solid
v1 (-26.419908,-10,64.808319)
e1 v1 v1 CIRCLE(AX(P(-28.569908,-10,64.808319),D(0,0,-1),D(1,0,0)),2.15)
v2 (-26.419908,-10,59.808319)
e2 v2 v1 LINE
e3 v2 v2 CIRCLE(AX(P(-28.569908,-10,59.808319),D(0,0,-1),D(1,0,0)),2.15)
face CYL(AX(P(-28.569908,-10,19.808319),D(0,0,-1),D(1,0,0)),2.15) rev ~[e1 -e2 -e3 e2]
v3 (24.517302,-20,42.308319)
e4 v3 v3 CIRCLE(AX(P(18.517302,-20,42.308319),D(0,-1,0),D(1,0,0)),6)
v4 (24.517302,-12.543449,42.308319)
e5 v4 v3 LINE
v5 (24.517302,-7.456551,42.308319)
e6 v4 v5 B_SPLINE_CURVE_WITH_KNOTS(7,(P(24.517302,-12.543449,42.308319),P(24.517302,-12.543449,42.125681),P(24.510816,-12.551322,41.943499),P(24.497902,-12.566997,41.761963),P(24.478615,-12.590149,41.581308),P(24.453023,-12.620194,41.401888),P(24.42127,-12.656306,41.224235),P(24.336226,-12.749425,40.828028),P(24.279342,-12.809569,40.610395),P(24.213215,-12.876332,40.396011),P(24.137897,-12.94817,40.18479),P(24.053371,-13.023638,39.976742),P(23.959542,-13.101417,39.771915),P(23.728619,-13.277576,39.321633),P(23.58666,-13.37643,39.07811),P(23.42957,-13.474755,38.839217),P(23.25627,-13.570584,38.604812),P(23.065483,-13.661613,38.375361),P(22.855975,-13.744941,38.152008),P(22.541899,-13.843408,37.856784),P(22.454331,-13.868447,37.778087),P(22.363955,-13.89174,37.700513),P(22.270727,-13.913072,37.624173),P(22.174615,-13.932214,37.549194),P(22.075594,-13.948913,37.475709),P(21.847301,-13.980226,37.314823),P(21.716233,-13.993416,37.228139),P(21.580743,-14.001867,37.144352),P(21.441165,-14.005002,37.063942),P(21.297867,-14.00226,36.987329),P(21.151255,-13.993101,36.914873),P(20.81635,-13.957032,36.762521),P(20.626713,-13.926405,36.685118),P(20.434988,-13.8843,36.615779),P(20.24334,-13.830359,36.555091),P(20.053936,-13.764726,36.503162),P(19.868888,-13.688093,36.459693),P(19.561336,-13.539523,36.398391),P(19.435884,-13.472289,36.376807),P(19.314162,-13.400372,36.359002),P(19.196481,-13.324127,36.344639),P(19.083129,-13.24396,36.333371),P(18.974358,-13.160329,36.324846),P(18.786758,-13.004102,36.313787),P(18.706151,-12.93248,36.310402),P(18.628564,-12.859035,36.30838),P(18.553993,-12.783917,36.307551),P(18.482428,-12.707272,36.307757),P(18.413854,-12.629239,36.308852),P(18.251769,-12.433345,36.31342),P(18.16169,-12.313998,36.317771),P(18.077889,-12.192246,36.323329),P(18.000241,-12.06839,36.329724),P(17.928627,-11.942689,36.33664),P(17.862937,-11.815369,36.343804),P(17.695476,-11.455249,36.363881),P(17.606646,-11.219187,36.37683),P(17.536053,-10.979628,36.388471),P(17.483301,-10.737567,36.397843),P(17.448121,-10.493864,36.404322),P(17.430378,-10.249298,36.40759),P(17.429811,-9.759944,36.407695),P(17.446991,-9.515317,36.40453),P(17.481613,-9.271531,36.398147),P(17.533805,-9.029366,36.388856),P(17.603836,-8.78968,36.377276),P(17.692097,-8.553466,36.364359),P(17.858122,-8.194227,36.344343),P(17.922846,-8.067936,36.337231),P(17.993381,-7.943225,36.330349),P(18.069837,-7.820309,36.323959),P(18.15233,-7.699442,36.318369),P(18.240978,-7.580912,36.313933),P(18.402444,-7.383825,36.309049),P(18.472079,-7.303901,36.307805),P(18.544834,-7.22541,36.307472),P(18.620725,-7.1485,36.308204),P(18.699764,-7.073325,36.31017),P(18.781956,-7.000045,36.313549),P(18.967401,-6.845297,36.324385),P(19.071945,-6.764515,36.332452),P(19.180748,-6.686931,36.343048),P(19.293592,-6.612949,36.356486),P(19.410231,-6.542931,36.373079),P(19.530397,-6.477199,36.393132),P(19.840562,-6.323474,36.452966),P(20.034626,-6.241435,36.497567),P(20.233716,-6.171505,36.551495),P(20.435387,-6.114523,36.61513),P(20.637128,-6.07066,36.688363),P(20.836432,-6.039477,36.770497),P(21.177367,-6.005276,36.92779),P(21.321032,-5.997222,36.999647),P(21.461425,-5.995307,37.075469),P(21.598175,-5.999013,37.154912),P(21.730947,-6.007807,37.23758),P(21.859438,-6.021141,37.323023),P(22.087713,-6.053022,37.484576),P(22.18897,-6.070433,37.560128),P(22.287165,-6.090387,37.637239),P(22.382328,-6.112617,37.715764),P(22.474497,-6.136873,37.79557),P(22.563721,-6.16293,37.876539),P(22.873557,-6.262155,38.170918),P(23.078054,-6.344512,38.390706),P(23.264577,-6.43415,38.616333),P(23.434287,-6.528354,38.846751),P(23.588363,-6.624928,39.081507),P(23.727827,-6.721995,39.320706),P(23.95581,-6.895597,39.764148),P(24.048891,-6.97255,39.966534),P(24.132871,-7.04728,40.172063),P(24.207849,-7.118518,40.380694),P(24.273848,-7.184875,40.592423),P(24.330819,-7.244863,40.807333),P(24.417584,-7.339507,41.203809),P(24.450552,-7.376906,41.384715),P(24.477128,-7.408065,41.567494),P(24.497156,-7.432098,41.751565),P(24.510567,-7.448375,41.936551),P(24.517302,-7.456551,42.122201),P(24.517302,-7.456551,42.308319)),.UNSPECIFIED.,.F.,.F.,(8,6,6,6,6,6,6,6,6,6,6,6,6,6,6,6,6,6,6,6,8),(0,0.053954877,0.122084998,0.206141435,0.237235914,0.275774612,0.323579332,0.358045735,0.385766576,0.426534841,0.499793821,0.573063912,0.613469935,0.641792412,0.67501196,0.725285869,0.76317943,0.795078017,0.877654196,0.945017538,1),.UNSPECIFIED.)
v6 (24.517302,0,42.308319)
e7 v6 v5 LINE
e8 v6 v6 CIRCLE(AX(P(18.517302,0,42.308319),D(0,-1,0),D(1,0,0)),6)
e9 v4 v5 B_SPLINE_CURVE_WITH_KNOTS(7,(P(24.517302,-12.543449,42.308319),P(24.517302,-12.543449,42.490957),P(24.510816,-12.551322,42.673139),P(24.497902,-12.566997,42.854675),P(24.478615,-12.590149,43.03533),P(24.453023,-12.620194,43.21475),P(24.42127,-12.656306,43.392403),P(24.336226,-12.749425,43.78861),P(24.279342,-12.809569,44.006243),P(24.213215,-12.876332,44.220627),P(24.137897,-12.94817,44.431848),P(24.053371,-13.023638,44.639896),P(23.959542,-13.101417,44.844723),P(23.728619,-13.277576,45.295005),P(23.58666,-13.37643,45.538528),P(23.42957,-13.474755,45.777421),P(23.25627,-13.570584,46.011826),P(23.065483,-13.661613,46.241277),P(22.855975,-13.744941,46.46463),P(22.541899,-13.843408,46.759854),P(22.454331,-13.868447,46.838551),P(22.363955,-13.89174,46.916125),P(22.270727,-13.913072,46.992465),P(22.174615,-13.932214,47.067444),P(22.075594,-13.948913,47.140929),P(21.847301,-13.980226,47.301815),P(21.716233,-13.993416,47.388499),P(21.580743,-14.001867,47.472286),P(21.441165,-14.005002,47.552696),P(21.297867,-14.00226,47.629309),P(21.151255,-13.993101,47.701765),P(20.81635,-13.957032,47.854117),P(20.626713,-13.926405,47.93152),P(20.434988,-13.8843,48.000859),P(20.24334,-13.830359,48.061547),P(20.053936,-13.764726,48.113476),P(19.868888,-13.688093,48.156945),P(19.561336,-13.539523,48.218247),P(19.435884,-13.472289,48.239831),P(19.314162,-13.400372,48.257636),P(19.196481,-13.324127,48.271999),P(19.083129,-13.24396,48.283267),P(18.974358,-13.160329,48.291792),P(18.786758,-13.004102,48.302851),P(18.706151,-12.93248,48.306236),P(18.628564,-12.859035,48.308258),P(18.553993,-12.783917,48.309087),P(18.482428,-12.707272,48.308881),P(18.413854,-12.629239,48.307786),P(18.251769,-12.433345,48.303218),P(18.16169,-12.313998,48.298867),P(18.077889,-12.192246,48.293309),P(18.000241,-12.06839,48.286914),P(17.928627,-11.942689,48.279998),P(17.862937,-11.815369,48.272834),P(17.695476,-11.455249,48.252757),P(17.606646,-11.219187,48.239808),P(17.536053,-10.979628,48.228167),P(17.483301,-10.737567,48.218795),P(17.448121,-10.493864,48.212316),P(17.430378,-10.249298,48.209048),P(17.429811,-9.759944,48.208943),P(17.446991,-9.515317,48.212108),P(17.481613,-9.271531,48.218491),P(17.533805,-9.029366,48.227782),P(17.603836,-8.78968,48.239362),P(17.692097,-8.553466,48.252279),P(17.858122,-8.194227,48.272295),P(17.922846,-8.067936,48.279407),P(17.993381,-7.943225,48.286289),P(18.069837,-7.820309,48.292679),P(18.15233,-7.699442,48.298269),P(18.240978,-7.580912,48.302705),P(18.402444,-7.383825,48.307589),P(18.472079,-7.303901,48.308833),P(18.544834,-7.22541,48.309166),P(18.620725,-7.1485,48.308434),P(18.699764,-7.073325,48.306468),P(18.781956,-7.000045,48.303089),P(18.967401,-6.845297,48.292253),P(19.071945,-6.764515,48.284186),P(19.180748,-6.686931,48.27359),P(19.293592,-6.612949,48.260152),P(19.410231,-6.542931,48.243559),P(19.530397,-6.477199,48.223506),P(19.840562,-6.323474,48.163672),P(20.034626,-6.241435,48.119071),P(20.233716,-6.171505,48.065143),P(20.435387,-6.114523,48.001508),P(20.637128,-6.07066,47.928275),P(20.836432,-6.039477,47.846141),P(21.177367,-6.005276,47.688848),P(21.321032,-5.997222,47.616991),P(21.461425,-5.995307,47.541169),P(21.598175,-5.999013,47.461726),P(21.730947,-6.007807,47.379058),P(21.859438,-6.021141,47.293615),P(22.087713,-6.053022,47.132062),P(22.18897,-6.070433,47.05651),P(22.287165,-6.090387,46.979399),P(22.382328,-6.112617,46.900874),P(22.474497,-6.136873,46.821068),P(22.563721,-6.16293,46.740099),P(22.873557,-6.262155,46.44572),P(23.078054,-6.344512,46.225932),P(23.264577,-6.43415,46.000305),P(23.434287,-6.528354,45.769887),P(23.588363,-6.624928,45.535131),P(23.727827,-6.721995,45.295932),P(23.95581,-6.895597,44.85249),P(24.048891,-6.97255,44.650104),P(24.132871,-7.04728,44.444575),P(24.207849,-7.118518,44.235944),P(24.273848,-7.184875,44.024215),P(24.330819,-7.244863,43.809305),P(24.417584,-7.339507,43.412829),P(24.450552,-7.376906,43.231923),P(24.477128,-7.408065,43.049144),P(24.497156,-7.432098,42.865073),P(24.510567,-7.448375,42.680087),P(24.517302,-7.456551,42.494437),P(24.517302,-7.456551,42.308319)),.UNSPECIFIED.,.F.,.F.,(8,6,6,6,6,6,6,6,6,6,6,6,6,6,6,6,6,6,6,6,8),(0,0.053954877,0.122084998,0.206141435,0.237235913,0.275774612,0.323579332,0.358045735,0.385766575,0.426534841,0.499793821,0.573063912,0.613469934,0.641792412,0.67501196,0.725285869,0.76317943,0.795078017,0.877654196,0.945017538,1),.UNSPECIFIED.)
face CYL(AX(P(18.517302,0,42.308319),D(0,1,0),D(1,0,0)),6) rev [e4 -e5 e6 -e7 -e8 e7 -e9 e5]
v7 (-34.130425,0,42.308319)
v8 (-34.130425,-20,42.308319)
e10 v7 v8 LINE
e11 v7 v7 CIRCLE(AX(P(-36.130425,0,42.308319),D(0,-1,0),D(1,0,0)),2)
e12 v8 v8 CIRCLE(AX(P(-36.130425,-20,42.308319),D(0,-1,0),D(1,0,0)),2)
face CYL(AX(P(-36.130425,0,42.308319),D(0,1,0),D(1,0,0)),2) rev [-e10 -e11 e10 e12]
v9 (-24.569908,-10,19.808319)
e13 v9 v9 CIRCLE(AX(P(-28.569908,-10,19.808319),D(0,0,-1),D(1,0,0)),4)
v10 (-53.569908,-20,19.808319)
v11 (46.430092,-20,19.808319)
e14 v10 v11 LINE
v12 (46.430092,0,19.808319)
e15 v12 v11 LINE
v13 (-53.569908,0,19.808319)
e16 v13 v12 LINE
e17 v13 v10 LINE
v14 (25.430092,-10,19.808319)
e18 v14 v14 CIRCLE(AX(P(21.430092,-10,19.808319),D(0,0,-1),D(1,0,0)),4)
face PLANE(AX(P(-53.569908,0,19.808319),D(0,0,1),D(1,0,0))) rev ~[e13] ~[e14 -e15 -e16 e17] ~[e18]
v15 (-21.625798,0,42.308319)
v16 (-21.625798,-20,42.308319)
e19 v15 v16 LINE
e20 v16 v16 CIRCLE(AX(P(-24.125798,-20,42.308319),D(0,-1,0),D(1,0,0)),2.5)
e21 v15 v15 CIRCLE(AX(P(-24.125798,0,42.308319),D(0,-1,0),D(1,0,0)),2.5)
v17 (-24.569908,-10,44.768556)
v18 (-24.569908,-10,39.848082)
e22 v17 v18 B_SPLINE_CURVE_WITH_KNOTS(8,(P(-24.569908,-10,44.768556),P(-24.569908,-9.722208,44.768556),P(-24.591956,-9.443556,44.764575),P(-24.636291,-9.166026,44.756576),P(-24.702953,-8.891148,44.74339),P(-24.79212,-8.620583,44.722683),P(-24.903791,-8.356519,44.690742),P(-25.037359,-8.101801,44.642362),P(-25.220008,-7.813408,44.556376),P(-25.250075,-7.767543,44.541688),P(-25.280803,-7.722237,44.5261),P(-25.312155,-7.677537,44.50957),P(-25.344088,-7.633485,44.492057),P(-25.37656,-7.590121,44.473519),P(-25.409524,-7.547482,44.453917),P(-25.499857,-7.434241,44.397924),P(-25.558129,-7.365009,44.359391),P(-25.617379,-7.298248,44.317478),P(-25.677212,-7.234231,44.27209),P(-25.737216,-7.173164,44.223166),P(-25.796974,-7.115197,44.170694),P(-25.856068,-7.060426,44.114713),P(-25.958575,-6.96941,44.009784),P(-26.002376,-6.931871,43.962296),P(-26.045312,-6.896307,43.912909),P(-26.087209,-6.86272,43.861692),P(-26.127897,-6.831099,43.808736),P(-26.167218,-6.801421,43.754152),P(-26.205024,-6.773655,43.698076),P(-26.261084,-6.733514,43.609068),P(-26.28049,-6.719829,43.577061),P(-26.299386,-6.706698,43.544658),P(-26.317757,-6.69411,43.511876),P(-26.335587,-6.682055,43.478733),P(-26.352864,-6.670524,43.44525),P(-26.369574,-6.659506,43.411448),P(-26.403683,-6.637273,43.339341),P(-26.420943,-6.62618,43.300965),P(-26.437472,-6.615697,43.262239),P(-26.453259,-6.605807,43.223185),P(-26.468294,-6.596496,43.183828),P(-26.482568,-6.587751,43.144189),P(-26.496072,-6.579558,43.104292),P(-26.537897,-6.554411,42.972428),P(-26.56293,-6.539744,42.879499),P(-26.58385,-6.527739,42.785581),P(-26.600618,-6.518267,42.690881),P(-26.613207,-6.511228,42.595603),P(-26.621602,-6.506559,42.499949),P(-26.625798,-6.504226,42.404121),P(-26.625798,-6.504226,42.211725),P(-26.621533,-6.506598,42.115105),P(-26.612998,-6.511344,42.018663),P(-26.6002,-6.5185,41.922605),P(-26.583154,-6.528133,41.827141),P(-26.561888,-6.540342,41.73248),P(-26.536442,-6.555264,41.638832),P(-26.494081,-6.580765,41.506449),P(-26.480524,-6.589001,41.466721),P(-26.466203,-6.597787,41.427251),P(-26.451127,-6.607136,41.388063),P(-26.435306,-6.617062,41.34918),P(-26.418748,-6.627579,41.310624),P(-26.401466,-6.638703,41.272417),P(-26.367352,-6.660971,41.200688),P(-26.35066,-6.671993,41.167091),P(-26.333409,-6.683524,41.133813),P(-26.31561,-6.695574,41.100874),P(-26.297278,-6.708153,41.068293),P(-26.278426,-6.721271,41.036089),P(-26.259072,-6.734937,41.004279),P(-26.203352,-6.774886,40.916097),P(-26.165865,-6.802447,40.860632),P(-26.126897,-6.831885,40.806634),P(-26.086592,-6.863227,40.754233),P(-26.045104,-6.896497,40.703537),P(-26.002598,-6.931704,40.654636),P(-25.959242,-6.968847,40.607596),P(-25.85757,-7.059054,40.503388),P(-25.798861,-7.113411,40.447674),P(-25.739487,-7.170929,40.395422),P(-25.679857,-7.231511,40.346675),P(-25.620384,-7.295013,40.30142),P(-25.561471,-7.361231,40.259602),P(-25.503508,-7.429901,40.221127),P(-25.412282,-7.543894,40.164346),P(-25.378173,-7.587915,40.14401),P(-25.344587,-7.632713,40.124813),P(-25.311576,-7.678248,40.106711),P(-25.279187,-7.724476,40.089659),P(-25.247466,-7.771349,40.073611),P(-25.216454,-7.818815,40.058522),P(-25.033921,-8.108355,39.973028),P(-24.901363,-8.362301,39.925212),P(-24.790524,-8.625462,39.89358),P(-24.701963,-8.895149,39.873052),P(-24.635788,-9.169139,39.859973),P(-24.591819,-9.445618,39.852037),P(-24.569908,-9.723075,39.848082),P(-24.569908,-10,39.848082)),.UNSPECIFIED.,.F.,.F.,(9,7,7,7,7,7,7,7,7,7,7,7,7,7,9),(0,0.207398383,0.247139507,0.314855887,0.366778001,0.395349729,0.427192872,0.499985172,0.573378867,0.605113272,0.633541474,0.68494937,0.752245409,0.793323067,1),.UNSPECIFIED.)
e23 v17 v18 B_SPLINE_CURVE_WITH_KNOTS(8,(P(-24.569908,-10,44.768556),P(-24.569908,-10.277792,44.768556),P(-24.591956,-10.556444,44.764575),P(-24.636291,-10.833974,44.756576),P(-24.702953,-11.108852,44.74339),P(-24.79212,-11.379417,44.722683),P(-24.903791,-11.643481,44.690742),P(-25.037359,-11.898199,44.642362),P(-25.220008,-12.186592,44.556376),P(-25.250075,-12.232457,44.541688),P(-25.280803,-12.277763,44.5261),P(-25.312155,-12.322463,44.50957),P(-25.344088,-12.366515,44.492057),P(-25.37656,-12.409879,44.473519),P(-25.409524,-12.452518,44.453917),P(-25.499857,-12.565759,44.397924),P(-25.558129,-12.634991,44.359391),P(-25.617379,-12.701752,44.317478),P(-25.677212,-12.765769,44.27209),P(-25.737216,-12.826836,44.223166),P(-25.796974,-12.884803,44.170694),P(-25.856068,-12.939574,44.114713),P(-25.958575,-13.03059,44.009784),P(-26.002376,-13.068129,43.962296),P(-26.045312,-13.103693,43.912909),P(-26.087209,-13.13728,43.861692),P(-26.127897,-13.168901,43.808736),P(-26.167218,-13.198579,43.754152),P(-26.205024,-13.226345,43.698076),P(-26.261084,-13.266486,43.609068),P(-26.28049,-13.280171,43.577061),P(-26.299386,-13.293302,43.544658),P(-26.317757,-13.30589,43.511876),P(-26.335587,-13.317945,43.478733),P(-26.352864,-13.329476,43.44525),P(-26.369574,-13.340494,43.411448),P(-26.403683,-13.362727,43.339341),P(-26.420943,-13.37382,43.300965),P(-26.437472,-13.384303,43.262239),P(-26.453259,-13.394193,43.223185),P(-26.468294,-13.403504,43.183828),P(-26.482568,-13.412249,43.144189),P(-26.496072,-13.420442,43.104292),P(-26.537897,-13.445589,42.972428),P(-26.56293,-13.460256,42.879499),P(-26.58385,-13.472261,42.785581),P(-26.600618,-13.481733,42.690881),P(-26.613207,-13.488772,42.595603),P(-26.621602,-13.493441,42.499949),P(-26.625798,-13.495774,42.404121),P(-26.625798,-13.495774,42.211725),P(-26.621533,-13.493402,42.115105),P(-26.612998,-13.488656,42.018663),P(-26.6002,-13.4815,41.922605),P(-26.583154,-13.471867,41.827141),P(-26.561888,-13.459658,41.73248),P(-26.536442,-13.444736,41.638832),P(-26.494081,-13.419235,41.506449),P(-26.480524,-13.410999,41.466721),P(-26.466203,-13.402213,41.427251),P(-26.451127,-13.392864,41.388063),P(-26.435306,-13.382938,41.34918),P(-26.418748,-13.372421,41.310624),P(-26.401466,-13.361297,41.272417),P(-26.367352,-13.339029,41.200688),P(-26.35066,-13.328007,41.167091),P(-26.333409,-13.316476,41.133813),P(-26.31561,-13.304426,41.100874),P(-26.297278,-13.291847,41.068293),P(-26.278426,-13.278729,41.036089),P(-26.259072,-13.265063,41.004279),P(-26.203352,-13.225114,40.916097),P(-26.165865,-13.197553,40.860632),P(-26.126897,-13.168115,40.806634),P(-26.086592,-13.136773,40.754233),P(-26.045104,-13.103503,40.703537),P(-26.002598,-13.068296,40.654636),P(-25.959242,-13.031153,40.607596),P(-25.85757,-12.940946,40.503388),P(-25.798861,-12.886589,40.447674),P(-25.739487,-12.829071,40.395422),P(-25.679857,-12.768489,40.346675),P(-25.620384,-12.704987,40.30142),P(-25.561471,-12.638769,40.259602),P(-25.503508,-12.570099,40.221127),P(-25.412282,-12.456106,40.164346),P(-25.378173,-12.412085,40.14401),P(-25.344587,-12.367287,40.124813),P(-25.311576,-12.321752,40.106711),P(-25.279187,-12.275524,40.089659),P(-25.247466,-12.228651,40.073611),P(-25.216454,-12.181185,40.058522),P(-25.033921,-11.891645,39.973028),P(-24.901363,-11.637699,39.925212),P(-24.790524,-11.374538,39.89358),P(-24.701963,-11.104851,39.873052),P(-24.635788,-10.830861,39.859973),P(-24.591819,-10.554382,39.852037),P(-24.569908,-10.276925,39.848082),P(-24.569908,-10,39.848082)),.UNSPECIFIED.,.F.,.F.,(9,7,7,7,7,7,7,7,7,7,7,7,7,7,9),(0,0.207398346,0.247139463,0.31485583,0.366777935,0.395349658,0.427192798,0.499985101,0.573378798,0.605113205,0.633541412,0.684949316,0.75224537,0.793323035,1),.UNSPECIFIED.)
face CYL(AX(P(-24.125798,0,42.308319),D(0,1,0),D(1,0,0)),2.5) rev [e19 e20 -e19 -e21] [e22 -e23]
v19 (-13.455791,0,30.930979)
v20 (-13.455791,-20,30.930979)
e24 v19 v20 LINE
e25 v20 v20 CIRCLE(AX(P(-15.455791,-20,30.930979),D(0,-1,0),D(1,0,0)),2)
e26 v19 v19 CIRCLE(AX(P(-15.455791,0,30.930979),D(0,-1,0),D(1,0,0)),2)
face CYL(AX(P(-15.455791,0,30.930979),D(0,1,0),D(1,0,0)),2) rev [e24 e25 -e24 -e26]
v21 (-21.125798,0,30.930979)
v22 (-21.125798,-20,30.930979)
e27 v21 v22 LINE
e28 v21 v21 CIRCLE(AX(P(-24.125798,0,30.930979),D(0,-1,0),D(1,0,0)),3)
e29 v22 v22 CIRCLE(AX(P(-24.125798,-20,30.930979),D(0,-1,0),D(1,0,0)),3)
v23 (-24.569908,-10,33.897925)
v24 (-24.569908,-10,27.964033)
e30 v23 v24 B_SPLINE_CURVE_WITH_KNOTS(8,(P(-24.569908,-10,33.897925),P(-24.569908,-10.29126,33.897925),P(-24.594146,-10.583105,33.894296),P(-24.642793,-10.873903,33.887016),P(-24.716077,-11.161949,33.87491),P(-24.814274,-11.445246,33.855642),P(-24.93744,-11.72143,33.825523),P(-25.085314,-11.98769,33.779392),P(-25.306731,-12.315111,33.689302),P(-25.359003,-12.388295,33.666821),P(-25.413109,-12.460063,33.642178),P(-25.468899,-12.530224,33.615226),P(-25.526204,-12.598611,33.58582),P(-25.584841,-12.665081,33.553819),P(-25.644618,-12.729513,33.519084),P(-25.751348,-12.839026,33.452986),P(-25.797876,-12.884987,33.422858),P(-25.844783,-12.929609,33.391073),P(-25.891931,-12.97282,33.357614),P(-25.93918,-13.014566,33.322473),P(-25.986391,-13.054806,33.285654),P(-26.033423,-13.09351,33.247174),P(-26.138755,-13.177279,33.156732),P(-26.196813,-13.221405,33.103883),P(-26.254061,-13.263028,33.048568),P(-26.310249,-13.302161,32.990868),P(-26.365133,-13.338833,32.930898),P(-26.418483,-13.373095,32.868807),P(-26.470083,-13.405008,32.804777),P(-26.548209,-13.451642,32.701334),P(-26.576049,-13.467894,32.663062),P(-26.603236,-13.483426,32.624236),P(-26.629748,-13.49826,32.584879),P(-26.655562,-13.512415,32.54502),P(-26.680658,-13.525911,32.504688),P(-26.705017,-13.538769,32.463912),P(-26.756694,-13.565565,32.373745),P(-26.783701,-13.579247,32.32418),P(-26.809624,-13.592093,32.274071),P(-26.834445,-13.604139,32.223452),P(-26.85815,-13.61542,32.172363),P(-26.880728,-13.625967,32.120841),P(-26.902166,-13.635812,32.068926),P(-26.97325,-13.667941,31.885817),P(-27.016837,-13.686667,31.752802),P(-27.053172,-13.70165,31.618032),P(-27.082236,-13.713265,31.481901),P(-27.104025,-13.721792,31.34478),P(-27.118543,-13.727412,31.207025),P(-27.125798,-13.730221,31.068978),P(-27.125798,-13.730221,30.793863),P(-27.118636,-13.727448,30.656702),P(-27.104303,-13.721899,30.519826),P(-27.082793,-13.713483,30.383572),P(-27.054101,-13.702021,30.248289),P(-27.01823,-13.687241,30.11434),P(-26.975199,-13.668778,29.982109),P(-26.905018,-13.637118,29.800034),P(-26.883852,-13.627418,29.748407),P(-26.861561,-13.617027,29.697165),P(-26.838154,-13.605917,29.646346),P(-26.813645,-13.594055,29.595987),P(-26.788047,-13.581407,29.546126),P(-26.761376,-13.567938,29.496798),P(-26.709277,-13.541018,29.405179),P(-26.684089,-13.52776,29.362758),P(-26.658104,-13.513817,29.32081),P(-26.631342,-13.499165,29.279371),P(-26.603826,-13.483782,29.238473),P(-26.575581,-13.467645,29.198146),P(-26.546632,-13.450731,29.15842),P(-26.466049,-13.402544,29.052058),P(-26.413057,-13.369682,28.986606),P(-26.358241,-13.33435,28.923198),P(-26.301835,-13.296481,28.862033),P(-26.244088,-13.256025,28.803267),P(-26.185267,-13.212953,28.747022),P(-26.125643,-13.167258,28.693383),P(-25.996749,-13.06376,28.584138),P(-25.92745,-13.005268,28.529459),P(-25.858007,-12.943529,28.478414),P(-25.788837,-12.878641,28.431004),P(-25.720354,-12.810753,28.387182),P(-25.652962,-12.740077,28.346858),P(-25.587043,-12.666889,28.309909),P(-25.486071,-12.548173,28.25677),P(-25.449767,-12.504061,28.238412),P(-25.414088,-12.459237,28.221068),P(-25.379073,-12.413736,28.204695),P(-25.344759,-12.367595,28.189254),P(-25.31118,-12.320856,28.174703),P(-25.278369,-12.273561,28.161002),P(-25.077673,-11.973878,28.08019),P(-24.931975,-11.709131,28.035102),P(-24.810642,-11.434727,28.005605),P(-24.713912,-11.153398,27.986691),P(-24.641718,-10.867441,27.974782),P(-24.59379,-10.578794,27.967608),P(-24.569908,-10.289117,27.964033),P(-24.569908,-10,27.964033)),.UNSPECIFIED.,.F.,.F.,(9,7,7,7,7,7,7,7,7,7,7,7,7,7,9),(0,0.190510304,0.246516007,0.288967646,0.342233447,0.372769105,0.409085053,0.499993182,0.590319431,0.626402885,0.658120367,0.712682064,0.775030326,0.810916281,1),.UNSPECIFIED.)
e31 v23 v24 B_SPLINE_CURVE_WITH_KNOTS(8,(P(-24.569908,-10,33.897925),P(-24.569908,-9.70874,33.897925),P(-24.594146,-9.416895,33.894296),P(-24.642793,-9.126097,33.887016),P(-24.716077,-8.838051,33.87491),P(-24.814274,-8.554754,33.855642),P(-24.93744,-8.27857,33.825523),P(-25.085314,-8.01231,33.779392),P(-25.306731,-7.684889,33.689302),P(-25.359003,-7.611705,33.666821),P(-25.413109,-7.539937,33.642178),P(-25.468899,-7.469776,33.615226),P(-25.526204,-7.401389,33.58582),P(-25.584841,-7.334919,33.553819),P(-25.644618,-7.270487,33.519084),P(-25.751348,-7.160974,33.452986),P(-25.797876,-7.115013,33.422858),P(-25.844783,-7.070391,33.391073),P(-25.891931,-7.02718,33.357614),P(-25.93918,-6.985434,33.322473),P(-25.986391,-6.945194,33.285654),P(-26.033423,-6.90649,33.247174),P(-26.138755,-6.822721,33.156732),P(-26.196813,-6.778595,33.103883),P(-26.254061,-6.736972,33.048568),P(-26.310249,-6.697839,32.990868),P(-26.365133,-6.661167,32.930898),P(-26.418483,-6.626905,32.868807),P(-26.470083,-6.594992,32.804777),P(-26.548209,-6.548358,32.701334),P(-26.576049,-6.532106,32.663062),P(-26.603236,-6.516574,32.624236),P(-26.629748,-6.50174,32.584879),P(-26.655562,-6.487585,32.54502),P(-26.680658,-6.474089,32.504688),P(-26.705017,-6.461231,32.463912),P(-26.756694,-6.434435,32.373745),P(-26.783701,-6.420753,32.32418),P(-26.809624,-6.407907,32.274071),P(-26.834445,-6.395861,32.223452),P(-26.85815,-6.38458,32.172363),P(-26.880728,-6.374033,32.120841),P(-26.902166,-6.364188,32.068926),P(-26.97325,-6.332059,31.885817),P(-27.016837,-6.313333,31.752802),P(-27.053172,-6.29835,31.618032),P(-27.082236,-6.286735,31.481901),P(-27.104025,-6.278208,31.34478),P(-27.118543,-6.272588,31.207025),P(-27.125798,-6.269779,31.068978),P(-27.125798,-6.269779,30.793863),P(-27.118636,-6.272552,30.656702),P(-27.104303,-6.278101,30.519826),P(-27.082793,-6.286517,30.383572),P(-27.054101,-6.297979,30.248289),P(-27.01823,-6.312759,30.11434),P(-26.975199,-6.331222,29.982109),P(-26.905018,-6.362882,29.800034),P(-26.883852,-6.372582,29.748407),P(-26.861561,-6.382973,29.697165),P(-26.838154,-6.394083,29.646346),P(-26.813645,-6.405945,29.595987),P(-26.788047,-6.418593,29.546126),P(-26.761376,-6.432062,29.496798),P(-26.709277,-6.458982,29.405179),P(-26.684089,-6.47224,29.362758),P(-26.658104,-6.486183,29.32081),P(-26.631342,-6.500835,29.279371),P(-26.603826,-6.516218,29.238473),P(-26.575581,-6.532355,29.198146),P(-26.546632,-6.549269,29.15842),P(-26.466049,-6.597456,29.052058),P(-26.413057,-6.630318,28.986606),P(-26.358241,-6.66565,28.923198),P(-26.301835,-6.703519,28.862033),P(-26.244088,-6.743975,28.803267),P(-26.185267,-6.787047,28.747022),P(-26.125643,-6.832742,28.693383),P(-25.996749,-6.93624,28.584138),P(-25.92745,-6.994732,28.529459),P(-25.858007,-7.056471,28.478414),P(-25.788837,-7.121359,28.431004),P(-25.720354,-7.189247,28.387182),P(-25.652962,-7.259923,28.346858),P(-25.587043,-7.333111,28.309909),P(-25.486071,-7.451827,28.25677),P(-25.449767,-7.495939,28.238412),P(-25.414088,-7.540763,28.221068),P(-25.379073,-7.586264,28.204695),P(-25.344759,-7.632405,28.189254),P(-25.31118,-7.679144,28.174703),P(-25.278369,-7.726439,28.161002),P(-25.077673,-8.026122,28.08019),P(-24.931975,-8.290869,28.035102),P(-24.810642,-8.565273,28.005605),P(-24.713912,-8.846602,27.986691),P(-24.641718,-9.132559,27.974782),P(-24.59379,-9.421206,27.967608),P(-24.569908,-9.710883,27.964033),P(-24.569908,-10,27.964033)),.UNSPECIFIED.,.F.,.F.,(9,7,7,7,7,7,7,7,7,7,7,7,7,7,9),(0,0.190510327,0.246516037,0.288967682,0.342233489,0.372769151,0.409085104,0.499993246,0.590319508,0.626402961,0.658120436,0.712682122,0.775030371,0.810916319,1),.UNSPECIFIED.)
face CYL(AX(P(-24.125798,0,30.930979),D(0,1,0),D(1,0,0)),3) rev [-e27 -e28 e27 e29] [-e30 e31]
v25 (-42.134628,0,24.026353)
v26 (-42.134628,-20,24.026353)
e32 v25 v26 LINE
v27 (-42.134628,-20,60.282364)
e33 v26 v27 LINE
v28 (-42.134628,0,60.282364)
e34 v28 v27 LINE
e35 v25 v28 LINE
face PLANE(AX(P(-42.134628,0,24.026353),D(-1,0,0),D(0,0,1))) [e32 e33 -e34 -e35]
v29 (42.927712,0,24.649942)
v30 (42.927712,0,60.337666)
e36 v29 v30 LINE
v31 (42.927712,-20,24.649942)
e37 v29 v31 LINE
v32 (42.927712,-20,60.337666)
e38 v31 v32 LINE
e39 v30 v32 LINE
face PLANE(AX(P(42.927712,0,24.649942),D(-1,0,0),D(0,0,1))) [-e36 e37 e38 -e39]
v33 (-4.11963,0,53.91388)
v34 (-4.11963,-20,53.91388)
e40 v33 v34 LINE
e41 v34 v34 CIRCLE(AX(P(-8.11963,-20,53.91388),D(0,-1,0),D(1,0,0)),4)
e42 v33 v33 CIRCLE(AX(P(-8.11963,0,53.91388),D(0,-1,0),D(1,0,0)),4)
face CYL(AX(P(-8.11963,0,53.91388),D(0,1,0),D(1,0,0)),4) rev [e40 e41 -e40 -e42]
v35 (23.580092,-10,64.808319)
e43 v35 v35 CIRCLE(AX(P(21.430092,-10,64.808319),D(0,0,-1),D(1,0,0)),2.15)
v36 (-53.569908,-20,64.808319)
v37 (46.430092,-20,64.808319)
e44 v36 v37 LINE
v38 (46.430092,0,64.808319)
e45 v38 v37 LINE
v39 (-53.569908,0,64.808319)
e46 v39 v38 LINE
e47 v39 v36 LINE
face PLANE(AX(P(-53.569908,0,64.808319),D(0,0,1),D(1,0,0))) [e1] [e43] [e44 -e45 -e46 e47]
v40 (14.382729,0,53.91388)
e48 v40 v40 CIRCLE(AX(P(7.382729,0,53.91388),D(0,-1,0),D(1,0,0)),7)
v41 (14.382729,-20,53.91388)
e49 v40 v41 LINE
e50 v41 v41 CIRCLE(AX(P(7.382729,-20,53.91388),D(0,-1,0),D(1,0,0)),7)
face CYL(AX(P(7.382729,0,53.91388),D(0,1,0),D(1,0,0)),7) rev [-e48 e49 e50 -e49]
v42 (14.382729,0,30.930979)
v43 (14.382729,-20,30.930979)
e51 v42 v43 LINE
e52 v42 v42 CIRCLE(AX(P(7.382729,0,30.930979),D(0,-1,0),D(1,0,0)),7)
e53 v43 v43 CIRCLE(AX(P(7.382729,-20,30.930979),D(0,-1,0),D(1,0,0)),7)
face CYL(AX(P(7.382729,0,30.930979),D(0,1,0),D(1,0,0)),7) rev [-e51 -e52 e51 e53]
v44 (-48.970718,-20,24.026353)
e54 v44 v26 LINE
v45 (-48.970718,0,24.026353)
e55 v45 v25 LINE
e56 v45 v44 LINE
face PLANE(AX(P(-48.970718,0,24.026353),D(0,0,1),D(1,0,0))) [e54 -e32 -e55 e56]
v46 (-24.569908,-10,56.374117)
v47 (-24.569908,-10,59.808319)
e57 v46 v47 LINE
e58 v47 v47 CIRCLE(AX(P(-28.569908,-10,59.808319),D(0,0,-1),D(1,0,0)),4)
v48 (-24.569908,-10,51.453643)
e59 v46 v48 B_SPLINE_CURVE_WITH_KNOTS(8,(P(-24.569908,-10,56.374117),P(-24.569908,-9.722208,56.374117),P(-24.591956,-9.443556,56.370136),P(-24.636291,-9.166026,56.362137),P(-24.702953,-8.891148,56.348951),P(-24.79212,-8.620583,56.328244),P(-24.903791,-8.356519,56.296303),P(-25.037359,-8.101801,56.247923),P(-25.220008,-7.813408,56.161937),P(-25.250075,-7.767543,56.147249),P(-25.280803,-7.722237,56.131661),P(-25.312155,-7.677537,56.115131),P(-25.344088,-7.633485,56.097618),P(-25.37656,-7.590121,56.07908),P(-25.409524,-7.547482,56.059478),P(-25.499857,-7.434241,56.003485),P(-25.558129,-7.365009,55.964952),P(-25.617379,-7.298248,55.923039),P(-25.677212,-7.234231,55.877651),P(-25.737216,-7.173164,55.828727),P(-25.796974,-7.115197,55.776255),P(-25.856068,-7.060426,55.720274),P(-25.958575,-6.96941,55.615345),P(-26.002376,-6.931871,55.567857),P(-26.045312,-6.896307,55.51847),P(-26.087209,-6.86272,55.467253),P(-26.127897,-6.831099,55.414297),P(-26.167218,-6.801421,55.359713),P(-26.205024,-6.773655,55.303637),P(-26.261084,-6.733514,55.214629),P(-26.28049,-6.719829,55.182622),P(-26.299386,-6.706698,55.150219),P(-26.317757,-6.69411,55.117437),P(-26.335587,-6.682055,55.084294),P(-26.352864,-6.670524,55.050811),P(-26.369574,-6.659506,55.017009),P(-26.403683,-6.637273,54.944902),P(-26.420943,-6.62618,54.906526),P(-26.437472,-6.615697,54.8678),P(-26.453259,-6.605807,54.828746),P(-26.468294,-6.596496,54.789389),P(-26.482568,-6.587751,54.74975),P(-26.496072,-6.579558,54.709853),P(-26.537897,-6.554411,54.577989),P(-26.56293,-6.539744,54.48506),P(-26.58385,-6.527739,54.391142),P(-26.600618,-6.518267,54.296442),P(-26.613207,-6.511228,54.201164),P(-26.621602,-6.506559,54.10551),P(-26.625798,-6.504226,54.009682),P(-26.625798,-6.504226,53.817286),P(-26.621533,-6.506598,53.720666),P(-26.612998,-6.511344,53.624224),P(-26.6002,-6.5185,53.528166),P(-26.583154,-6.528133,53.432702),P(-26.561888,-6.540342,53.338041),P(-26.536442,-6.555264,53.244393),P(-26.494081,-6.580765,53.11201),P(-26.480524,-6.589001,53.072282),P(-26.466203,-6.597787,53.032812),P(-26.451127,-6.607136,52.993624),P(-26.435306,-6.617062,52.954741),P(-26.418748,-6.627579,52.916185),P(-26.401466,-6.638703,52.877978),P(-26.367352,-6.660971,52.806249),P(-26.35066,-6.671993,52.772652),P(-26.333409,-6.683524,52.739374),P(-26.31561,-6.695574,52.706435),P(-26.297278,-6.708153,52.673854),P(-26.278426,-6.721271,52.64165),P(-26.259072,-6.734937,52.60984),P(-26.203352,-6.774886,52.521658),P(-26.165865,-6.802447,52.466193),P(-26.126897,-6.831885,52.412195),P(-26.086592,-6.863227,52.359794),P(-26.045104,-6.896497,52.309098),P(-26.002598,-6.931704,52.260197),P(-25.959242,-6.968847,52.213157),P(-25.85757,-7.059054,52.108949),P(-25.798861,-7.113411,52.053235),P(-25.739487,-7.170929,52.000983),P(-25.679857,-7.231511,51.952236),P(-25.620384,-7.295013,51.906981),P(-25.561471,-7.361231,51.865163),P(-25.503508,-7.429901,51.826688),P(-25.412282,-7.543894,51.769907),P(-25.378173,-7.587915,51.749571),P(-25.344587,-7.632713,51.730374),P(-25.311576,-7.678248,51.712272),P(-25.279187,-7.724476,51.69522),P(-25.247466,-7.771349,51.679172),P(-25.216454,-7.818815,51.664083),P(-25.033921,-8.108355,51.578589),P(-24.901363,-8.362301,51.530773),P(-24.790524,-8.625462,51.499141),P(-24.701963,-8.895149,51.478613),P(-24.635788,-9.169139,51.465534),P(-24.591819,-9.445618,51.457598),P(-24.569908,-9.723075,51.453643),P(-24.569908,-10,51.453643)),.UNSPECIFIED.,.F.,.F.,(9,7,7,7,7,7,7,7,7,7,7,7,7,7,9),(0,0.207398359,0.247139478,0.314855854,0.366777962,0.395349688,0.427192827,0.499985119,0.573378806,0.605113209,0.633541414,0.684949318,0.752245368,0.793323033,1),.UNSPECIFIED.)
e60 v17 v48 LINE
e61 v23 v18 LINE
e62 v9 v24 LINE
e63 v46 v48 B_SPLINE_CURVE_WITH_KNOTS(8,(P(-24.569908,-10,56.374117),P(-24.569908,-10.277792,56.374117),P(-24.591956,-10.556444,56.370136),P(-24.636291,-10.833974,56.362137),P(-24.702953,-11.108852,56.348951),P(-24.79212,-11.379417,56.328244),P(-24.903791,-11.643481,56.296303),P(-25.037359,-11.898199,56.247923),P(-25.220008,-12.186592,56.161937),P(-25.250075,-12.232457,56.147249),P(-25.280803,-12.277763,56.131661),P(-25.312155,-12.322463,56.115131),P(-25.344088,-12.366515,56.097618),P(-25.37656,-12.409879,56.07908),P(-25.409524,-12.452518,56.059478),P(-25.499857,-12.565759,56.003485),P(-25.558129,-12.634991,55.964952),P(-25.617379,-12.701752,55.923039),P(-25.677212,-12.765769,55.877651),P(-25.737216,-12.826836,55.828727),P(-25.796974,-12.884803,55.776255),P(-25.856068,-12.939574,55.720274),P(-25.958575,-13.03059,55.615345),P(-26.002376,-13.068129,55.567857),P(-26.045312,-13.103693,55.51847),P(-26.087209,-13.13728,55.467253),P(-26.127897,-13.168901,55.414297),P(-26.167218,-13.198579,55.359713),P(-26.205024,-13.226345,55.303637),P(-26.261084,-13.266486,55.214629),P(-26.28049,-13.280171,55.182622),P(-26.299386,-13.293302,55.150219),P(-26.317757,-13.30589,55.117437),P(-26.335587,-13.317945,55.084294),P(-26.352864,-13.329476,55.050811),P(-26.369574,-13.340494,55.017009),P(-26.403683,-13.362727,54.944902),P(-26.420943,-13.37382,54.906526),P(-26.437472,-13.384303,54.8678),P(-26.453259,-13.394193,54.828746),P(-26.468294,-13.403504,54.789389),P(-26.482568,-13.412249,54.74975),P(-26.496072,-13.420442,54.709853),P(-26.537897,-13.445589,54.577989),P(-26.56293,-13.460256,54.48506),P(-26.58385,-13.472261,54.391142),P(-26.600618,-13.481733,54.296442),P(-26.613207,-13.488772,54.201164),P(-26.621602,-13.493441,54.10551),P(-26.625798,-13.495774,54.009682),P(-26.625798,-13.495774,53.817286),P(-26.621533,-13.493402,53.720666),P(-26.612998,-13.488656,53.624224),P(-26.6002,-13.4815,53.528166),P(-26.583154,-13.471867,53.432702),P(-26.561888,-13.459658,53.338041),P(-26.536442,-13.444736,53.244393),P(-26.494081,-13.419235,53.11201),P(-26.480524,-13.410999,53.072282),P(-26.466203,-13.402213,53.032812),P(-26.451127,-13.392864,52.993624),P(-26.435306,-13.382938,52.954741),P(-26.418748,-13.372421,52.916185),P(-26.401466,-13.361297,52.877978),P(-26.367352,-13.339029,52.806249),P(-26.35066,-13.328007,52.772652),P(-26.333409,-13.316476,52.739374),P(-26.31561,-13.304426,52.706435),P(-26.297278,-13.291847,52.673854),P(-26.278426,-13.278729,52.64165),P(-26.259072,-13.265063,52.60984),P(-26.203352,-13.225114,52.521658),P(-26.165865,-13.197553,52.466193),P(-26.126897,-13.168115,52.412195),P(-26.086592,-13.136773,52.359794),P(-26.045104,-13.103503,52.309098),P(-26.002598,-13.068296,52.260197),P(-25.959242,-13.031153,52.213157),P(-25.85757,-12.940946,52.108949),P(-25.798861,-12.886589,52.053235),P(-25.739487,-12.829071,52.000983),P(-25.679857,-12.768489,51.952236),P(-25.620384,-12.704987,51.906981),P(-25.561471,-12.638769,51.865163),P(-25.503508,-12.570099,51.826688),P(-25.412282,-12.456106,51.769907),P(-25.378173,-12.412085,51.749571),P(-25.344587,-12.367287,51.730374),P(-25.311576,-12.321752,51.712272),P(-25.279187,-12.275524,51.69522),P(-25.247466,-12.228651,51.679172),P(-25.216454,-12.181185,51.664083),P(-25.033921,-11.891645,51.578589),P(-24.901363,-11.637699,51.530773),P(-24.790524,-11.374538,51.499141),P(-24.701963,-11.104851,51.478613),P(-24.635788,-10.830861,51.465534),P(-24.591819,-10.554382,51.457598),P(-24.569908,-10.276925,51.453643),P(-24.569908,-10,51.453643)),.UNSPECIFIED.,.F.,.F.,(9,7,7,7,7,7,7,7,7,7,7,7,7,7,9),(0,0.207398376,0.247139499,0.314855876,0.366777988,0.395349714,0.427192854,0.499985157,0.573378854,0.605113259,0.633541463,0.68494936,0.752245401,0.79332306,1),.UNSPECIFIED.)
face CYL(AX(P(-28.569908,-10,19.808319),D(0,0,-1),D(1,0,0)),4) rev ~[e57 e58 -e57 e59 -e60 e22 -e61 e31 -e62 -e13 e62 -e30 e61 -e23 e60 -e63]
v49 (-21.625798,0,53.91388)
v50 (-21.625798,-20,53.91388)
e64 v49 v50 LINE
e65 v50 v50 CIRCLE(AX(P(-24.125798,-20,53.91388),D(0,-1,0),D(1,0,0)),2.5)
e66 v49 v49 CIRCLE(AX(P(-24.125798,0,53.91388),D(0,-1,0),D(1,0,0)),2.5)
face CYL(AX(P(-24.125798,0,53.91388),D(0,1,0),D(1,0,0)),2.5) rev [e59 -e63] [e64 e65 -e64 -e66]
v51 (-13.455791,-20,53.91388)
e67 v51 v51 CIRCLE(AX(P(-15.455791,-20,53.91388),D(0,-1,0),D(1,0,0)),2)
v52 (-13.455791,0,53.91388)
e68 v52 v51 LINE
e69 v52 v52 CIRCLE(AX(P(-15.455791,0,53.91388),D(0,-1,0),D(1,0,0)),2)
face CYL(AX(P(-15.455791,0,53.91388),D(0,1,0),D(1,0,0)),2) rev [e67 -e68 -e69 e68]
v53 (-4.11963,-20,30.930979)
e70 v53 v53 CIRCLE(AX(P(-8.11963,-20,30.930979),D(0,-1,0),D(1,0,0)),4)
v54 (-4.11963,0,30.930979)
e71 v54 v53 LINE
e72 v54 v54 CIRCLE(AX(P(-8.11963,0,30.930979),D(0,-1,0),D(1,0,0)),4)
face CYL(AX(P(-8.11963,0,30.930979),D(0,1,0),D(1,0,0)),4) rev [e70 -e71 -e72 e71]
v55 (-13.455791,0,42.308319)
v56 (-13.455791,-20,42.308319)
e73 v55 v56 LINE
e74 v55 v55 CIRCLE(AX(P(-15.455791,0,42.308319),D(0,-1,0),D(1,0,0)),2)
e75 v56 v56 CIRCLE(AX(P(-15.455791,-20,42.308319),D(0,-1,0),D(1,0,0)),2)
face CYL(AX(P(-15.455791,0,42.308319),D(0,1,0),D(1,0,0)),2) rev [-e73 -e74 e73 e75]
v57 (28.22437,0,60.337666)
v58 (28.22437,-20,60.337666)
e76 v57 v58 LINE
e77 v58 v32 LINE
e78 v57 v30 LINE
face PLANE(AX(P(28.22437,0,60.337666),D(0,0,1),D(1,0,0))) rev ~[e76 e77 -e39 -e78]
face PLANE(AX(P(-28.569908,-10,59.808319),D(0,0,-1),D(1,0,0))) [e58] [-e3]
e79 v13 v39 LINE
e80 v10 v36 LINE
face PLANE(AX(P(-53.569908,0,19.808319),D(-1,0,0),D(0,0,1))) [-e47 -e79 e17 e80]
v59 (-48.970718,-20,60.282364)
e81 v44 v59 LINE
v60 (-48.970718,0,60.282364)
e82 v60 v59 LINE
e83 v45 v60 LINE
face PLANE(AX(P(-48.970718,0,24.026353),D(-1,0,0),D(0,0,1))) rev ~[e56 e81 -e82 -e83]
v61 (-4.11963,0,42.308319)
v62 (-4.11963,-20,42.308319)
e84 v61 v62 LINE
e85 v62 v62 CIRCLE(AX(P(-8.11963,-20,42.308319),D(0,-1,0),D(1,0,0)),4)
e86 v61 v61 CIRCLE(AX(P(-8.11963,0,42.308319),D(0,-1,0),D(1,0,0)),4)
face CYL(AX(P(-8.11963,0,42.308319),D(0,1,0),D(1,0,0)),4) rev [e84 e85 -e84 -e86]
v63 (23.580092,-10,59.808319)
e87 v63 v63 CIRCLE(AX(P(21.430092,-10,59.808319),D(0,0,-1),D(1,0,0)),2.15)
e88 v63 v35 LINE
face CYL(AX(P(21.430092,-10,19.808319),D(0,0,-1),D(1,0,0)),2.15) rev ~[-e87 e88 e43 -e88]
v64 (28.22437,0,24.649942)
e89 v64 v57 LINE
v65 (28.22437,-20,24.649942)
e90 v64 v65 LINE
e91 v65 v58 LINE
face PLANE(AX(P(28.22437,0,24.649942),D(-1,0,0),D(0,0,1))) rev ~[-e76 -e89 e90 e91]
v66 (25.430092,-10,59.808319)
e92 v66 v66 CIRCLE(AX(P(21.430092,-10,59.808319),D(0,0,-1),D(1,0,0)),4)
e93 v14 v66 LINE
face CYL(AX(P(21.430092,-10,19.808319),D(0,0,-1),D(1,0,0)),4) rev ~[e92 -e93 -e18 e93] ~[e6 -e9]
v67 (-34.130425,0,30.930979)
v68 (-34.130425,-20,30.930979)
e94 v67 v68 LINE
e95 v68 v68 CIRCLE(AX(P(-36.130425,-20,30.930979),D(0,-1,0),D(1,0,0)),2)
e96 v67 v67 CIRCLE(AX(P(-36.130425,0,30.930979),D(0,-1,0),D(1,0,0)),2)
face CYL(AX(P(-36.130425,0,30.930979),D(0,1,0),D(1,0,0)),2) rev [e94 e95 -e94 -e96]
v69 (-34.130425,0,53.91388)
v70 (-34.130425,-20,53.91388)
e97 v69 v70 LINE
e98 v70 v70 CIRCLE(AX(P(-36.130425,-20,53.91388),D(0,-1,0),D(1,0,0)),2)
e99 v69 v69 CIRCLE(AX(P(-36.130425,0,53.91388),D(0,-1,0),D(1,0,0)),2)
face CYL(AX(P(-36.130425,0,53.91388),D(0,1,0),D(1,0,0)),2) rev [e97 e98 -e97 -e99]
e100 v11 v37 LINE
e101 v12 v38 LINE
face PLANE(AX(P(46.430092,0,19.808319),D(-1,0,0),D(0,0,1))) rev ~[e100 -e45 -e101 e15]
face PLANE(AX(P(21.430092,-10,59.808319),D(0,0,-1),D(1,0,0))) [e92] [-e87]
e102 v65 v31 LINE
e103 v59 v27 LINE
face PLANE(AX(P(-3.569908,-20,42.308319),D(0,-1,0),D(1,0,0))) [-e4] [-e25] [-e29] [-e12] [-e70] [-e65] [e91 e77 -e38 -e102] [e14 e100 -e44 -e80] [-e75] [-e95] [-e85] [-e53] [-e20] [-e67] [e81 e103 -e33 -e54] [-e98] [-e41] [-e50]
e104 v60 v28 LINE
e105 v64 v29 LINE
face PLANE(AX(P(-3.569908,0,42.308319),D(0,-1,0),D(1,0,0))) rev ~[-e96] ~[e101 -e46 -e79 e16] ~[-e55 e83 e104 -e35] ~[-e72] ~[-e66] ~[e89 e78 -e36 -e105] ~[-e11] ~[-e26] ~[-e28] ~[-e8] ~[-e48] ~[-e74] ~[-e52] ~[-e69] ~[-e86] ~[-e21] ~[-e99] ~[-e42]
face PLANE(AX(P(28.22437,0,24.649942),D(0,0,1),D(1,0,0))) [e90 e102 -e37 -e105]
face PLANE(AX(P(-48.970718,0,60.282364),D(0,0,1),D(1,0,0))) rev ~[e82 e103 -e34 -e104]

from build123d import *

# Parameters (mm, degrees)
F0_W     = 100
F0_H     = 45
F0_R     = 2
F0_R_2   = 3
F0_R_3   = 4
F0_W_2   = 6.83609
F0_H_2   = 36.256011
F0_R_4   = 7
F0_R_5   = 2.5
F0_R_6   = 6
F0_W_3   = 14.703342
F0_H_3   = 35.687724
F1_DEPTH = 20
F2_R     = 2.15
F3_DEPTH = 50
F4_R     = 4
F5_DEPTH = 40


with BuildPart() as f1:
    # F0 (on Front) → F1 (new body)
    with BuildSketch(Plane.XZ):
        with Locations((-3.569908, 42.308319)):
            Rectangle(F0_W, F0_H)
        with Locations((-36.130425, 30.930979)):
            Circle(F0_R, mode=Mode.SUBTRACT)
        with Locations((-24.125798, 30.930979)):
            Circle(F0_R_2, mode=Mode.SUBTRACT)
        with Locations((-15.455791, 30.930979)):
            Circle(F0_R, mode=Mode.SUBTRACT)
        with Locations((-8.11963, 30.930979)):
            Circle(F0_R_3, mode=Mode.SUBTRACT)
        with Locations((-45.552673, 42.154359)):
            Rectangle(F0_W_2, F0_H_2, mode=Mode.SUBTRACT)
        with Locations((7.382729, 30.930979)):
            Circle(F0_R_4, mode=Mode.SUBTRACT)
        with Locations((-36.130425, 42.308319)):
            Circle(F0_R, mode=Mode.SUBTRACT)
        with Locations((-24.125798, 42.308319)):
            Circle(F0_R_5, mode=Mode.SUBTRACT)
        with Locations((-15.455791, 42.308319)):
            Circle(F0_R, mode=Mode.SUBTRACT)
        with Locations((-8.11963, 42.308319)):
            Circle(F0_R_3, mode=Mode.SUBTRACT)
        with Locations((-36.130425, 53.91388)):
            Circle(F0_R, mode=Mode.SUBTRACT)
        with Locations((-24.125798, 53.91388)):
            Circle(F0_R_5, mode=Mode.SUBTRACT)
        with Locations((-15.455791, 53.91388)):
            Circle(F0_R, mode=Mode.SUBTRACT)
        with Locations((-8.11963, 53.91388)):
            Circle(F0_R_3, mode=Mode.SUBTRACT)
        with Locations((18.517302, 42.308319)):
            Circle(F0_R_6, mode=Mode.SUBTRACT)
        with Locations((35.576041, 42.493804)):
            Rectangle(F0_W_3, F0_H_3, mode=Mode.SUBTRACT)
        with Locations((7.382729, 53.91388)):
            Circle(F0_R_4, mode=Mode.SUBTRACT)
    extrude(amount=F1_DEPTH)

    # F2 (on face) → F3 (cut)
    with BuildSketch(Plane(origin=(0, 0, 19.808319), x_dir=(1, 0, 0), z_dir=(0, 0, -1))):
        with Locations((21.430092, 10)):
            Circle(F2_R)
        with Locations((-28.569908, 10)):
            Circle(F2_R)
    extrude(amount=-F3_DEPTH, mode=Mode.SUBTRACT)

    # F4 (on face) → F5 (cut)
    with BuildSketch(Plane(origin=(0, 0, 19.808319), x_dir=(1, 0, 0), z_dir=(0, 0, -1))):
        with Locations((-28.569908, 10)):
            Circle(F4_R)
        with Locations((21.430092, 10)):
            Circle(F4_R)
    extrude(amount=-F5_DEPTH, mode=Mode.SUBTRACT)


solid = f1.part
